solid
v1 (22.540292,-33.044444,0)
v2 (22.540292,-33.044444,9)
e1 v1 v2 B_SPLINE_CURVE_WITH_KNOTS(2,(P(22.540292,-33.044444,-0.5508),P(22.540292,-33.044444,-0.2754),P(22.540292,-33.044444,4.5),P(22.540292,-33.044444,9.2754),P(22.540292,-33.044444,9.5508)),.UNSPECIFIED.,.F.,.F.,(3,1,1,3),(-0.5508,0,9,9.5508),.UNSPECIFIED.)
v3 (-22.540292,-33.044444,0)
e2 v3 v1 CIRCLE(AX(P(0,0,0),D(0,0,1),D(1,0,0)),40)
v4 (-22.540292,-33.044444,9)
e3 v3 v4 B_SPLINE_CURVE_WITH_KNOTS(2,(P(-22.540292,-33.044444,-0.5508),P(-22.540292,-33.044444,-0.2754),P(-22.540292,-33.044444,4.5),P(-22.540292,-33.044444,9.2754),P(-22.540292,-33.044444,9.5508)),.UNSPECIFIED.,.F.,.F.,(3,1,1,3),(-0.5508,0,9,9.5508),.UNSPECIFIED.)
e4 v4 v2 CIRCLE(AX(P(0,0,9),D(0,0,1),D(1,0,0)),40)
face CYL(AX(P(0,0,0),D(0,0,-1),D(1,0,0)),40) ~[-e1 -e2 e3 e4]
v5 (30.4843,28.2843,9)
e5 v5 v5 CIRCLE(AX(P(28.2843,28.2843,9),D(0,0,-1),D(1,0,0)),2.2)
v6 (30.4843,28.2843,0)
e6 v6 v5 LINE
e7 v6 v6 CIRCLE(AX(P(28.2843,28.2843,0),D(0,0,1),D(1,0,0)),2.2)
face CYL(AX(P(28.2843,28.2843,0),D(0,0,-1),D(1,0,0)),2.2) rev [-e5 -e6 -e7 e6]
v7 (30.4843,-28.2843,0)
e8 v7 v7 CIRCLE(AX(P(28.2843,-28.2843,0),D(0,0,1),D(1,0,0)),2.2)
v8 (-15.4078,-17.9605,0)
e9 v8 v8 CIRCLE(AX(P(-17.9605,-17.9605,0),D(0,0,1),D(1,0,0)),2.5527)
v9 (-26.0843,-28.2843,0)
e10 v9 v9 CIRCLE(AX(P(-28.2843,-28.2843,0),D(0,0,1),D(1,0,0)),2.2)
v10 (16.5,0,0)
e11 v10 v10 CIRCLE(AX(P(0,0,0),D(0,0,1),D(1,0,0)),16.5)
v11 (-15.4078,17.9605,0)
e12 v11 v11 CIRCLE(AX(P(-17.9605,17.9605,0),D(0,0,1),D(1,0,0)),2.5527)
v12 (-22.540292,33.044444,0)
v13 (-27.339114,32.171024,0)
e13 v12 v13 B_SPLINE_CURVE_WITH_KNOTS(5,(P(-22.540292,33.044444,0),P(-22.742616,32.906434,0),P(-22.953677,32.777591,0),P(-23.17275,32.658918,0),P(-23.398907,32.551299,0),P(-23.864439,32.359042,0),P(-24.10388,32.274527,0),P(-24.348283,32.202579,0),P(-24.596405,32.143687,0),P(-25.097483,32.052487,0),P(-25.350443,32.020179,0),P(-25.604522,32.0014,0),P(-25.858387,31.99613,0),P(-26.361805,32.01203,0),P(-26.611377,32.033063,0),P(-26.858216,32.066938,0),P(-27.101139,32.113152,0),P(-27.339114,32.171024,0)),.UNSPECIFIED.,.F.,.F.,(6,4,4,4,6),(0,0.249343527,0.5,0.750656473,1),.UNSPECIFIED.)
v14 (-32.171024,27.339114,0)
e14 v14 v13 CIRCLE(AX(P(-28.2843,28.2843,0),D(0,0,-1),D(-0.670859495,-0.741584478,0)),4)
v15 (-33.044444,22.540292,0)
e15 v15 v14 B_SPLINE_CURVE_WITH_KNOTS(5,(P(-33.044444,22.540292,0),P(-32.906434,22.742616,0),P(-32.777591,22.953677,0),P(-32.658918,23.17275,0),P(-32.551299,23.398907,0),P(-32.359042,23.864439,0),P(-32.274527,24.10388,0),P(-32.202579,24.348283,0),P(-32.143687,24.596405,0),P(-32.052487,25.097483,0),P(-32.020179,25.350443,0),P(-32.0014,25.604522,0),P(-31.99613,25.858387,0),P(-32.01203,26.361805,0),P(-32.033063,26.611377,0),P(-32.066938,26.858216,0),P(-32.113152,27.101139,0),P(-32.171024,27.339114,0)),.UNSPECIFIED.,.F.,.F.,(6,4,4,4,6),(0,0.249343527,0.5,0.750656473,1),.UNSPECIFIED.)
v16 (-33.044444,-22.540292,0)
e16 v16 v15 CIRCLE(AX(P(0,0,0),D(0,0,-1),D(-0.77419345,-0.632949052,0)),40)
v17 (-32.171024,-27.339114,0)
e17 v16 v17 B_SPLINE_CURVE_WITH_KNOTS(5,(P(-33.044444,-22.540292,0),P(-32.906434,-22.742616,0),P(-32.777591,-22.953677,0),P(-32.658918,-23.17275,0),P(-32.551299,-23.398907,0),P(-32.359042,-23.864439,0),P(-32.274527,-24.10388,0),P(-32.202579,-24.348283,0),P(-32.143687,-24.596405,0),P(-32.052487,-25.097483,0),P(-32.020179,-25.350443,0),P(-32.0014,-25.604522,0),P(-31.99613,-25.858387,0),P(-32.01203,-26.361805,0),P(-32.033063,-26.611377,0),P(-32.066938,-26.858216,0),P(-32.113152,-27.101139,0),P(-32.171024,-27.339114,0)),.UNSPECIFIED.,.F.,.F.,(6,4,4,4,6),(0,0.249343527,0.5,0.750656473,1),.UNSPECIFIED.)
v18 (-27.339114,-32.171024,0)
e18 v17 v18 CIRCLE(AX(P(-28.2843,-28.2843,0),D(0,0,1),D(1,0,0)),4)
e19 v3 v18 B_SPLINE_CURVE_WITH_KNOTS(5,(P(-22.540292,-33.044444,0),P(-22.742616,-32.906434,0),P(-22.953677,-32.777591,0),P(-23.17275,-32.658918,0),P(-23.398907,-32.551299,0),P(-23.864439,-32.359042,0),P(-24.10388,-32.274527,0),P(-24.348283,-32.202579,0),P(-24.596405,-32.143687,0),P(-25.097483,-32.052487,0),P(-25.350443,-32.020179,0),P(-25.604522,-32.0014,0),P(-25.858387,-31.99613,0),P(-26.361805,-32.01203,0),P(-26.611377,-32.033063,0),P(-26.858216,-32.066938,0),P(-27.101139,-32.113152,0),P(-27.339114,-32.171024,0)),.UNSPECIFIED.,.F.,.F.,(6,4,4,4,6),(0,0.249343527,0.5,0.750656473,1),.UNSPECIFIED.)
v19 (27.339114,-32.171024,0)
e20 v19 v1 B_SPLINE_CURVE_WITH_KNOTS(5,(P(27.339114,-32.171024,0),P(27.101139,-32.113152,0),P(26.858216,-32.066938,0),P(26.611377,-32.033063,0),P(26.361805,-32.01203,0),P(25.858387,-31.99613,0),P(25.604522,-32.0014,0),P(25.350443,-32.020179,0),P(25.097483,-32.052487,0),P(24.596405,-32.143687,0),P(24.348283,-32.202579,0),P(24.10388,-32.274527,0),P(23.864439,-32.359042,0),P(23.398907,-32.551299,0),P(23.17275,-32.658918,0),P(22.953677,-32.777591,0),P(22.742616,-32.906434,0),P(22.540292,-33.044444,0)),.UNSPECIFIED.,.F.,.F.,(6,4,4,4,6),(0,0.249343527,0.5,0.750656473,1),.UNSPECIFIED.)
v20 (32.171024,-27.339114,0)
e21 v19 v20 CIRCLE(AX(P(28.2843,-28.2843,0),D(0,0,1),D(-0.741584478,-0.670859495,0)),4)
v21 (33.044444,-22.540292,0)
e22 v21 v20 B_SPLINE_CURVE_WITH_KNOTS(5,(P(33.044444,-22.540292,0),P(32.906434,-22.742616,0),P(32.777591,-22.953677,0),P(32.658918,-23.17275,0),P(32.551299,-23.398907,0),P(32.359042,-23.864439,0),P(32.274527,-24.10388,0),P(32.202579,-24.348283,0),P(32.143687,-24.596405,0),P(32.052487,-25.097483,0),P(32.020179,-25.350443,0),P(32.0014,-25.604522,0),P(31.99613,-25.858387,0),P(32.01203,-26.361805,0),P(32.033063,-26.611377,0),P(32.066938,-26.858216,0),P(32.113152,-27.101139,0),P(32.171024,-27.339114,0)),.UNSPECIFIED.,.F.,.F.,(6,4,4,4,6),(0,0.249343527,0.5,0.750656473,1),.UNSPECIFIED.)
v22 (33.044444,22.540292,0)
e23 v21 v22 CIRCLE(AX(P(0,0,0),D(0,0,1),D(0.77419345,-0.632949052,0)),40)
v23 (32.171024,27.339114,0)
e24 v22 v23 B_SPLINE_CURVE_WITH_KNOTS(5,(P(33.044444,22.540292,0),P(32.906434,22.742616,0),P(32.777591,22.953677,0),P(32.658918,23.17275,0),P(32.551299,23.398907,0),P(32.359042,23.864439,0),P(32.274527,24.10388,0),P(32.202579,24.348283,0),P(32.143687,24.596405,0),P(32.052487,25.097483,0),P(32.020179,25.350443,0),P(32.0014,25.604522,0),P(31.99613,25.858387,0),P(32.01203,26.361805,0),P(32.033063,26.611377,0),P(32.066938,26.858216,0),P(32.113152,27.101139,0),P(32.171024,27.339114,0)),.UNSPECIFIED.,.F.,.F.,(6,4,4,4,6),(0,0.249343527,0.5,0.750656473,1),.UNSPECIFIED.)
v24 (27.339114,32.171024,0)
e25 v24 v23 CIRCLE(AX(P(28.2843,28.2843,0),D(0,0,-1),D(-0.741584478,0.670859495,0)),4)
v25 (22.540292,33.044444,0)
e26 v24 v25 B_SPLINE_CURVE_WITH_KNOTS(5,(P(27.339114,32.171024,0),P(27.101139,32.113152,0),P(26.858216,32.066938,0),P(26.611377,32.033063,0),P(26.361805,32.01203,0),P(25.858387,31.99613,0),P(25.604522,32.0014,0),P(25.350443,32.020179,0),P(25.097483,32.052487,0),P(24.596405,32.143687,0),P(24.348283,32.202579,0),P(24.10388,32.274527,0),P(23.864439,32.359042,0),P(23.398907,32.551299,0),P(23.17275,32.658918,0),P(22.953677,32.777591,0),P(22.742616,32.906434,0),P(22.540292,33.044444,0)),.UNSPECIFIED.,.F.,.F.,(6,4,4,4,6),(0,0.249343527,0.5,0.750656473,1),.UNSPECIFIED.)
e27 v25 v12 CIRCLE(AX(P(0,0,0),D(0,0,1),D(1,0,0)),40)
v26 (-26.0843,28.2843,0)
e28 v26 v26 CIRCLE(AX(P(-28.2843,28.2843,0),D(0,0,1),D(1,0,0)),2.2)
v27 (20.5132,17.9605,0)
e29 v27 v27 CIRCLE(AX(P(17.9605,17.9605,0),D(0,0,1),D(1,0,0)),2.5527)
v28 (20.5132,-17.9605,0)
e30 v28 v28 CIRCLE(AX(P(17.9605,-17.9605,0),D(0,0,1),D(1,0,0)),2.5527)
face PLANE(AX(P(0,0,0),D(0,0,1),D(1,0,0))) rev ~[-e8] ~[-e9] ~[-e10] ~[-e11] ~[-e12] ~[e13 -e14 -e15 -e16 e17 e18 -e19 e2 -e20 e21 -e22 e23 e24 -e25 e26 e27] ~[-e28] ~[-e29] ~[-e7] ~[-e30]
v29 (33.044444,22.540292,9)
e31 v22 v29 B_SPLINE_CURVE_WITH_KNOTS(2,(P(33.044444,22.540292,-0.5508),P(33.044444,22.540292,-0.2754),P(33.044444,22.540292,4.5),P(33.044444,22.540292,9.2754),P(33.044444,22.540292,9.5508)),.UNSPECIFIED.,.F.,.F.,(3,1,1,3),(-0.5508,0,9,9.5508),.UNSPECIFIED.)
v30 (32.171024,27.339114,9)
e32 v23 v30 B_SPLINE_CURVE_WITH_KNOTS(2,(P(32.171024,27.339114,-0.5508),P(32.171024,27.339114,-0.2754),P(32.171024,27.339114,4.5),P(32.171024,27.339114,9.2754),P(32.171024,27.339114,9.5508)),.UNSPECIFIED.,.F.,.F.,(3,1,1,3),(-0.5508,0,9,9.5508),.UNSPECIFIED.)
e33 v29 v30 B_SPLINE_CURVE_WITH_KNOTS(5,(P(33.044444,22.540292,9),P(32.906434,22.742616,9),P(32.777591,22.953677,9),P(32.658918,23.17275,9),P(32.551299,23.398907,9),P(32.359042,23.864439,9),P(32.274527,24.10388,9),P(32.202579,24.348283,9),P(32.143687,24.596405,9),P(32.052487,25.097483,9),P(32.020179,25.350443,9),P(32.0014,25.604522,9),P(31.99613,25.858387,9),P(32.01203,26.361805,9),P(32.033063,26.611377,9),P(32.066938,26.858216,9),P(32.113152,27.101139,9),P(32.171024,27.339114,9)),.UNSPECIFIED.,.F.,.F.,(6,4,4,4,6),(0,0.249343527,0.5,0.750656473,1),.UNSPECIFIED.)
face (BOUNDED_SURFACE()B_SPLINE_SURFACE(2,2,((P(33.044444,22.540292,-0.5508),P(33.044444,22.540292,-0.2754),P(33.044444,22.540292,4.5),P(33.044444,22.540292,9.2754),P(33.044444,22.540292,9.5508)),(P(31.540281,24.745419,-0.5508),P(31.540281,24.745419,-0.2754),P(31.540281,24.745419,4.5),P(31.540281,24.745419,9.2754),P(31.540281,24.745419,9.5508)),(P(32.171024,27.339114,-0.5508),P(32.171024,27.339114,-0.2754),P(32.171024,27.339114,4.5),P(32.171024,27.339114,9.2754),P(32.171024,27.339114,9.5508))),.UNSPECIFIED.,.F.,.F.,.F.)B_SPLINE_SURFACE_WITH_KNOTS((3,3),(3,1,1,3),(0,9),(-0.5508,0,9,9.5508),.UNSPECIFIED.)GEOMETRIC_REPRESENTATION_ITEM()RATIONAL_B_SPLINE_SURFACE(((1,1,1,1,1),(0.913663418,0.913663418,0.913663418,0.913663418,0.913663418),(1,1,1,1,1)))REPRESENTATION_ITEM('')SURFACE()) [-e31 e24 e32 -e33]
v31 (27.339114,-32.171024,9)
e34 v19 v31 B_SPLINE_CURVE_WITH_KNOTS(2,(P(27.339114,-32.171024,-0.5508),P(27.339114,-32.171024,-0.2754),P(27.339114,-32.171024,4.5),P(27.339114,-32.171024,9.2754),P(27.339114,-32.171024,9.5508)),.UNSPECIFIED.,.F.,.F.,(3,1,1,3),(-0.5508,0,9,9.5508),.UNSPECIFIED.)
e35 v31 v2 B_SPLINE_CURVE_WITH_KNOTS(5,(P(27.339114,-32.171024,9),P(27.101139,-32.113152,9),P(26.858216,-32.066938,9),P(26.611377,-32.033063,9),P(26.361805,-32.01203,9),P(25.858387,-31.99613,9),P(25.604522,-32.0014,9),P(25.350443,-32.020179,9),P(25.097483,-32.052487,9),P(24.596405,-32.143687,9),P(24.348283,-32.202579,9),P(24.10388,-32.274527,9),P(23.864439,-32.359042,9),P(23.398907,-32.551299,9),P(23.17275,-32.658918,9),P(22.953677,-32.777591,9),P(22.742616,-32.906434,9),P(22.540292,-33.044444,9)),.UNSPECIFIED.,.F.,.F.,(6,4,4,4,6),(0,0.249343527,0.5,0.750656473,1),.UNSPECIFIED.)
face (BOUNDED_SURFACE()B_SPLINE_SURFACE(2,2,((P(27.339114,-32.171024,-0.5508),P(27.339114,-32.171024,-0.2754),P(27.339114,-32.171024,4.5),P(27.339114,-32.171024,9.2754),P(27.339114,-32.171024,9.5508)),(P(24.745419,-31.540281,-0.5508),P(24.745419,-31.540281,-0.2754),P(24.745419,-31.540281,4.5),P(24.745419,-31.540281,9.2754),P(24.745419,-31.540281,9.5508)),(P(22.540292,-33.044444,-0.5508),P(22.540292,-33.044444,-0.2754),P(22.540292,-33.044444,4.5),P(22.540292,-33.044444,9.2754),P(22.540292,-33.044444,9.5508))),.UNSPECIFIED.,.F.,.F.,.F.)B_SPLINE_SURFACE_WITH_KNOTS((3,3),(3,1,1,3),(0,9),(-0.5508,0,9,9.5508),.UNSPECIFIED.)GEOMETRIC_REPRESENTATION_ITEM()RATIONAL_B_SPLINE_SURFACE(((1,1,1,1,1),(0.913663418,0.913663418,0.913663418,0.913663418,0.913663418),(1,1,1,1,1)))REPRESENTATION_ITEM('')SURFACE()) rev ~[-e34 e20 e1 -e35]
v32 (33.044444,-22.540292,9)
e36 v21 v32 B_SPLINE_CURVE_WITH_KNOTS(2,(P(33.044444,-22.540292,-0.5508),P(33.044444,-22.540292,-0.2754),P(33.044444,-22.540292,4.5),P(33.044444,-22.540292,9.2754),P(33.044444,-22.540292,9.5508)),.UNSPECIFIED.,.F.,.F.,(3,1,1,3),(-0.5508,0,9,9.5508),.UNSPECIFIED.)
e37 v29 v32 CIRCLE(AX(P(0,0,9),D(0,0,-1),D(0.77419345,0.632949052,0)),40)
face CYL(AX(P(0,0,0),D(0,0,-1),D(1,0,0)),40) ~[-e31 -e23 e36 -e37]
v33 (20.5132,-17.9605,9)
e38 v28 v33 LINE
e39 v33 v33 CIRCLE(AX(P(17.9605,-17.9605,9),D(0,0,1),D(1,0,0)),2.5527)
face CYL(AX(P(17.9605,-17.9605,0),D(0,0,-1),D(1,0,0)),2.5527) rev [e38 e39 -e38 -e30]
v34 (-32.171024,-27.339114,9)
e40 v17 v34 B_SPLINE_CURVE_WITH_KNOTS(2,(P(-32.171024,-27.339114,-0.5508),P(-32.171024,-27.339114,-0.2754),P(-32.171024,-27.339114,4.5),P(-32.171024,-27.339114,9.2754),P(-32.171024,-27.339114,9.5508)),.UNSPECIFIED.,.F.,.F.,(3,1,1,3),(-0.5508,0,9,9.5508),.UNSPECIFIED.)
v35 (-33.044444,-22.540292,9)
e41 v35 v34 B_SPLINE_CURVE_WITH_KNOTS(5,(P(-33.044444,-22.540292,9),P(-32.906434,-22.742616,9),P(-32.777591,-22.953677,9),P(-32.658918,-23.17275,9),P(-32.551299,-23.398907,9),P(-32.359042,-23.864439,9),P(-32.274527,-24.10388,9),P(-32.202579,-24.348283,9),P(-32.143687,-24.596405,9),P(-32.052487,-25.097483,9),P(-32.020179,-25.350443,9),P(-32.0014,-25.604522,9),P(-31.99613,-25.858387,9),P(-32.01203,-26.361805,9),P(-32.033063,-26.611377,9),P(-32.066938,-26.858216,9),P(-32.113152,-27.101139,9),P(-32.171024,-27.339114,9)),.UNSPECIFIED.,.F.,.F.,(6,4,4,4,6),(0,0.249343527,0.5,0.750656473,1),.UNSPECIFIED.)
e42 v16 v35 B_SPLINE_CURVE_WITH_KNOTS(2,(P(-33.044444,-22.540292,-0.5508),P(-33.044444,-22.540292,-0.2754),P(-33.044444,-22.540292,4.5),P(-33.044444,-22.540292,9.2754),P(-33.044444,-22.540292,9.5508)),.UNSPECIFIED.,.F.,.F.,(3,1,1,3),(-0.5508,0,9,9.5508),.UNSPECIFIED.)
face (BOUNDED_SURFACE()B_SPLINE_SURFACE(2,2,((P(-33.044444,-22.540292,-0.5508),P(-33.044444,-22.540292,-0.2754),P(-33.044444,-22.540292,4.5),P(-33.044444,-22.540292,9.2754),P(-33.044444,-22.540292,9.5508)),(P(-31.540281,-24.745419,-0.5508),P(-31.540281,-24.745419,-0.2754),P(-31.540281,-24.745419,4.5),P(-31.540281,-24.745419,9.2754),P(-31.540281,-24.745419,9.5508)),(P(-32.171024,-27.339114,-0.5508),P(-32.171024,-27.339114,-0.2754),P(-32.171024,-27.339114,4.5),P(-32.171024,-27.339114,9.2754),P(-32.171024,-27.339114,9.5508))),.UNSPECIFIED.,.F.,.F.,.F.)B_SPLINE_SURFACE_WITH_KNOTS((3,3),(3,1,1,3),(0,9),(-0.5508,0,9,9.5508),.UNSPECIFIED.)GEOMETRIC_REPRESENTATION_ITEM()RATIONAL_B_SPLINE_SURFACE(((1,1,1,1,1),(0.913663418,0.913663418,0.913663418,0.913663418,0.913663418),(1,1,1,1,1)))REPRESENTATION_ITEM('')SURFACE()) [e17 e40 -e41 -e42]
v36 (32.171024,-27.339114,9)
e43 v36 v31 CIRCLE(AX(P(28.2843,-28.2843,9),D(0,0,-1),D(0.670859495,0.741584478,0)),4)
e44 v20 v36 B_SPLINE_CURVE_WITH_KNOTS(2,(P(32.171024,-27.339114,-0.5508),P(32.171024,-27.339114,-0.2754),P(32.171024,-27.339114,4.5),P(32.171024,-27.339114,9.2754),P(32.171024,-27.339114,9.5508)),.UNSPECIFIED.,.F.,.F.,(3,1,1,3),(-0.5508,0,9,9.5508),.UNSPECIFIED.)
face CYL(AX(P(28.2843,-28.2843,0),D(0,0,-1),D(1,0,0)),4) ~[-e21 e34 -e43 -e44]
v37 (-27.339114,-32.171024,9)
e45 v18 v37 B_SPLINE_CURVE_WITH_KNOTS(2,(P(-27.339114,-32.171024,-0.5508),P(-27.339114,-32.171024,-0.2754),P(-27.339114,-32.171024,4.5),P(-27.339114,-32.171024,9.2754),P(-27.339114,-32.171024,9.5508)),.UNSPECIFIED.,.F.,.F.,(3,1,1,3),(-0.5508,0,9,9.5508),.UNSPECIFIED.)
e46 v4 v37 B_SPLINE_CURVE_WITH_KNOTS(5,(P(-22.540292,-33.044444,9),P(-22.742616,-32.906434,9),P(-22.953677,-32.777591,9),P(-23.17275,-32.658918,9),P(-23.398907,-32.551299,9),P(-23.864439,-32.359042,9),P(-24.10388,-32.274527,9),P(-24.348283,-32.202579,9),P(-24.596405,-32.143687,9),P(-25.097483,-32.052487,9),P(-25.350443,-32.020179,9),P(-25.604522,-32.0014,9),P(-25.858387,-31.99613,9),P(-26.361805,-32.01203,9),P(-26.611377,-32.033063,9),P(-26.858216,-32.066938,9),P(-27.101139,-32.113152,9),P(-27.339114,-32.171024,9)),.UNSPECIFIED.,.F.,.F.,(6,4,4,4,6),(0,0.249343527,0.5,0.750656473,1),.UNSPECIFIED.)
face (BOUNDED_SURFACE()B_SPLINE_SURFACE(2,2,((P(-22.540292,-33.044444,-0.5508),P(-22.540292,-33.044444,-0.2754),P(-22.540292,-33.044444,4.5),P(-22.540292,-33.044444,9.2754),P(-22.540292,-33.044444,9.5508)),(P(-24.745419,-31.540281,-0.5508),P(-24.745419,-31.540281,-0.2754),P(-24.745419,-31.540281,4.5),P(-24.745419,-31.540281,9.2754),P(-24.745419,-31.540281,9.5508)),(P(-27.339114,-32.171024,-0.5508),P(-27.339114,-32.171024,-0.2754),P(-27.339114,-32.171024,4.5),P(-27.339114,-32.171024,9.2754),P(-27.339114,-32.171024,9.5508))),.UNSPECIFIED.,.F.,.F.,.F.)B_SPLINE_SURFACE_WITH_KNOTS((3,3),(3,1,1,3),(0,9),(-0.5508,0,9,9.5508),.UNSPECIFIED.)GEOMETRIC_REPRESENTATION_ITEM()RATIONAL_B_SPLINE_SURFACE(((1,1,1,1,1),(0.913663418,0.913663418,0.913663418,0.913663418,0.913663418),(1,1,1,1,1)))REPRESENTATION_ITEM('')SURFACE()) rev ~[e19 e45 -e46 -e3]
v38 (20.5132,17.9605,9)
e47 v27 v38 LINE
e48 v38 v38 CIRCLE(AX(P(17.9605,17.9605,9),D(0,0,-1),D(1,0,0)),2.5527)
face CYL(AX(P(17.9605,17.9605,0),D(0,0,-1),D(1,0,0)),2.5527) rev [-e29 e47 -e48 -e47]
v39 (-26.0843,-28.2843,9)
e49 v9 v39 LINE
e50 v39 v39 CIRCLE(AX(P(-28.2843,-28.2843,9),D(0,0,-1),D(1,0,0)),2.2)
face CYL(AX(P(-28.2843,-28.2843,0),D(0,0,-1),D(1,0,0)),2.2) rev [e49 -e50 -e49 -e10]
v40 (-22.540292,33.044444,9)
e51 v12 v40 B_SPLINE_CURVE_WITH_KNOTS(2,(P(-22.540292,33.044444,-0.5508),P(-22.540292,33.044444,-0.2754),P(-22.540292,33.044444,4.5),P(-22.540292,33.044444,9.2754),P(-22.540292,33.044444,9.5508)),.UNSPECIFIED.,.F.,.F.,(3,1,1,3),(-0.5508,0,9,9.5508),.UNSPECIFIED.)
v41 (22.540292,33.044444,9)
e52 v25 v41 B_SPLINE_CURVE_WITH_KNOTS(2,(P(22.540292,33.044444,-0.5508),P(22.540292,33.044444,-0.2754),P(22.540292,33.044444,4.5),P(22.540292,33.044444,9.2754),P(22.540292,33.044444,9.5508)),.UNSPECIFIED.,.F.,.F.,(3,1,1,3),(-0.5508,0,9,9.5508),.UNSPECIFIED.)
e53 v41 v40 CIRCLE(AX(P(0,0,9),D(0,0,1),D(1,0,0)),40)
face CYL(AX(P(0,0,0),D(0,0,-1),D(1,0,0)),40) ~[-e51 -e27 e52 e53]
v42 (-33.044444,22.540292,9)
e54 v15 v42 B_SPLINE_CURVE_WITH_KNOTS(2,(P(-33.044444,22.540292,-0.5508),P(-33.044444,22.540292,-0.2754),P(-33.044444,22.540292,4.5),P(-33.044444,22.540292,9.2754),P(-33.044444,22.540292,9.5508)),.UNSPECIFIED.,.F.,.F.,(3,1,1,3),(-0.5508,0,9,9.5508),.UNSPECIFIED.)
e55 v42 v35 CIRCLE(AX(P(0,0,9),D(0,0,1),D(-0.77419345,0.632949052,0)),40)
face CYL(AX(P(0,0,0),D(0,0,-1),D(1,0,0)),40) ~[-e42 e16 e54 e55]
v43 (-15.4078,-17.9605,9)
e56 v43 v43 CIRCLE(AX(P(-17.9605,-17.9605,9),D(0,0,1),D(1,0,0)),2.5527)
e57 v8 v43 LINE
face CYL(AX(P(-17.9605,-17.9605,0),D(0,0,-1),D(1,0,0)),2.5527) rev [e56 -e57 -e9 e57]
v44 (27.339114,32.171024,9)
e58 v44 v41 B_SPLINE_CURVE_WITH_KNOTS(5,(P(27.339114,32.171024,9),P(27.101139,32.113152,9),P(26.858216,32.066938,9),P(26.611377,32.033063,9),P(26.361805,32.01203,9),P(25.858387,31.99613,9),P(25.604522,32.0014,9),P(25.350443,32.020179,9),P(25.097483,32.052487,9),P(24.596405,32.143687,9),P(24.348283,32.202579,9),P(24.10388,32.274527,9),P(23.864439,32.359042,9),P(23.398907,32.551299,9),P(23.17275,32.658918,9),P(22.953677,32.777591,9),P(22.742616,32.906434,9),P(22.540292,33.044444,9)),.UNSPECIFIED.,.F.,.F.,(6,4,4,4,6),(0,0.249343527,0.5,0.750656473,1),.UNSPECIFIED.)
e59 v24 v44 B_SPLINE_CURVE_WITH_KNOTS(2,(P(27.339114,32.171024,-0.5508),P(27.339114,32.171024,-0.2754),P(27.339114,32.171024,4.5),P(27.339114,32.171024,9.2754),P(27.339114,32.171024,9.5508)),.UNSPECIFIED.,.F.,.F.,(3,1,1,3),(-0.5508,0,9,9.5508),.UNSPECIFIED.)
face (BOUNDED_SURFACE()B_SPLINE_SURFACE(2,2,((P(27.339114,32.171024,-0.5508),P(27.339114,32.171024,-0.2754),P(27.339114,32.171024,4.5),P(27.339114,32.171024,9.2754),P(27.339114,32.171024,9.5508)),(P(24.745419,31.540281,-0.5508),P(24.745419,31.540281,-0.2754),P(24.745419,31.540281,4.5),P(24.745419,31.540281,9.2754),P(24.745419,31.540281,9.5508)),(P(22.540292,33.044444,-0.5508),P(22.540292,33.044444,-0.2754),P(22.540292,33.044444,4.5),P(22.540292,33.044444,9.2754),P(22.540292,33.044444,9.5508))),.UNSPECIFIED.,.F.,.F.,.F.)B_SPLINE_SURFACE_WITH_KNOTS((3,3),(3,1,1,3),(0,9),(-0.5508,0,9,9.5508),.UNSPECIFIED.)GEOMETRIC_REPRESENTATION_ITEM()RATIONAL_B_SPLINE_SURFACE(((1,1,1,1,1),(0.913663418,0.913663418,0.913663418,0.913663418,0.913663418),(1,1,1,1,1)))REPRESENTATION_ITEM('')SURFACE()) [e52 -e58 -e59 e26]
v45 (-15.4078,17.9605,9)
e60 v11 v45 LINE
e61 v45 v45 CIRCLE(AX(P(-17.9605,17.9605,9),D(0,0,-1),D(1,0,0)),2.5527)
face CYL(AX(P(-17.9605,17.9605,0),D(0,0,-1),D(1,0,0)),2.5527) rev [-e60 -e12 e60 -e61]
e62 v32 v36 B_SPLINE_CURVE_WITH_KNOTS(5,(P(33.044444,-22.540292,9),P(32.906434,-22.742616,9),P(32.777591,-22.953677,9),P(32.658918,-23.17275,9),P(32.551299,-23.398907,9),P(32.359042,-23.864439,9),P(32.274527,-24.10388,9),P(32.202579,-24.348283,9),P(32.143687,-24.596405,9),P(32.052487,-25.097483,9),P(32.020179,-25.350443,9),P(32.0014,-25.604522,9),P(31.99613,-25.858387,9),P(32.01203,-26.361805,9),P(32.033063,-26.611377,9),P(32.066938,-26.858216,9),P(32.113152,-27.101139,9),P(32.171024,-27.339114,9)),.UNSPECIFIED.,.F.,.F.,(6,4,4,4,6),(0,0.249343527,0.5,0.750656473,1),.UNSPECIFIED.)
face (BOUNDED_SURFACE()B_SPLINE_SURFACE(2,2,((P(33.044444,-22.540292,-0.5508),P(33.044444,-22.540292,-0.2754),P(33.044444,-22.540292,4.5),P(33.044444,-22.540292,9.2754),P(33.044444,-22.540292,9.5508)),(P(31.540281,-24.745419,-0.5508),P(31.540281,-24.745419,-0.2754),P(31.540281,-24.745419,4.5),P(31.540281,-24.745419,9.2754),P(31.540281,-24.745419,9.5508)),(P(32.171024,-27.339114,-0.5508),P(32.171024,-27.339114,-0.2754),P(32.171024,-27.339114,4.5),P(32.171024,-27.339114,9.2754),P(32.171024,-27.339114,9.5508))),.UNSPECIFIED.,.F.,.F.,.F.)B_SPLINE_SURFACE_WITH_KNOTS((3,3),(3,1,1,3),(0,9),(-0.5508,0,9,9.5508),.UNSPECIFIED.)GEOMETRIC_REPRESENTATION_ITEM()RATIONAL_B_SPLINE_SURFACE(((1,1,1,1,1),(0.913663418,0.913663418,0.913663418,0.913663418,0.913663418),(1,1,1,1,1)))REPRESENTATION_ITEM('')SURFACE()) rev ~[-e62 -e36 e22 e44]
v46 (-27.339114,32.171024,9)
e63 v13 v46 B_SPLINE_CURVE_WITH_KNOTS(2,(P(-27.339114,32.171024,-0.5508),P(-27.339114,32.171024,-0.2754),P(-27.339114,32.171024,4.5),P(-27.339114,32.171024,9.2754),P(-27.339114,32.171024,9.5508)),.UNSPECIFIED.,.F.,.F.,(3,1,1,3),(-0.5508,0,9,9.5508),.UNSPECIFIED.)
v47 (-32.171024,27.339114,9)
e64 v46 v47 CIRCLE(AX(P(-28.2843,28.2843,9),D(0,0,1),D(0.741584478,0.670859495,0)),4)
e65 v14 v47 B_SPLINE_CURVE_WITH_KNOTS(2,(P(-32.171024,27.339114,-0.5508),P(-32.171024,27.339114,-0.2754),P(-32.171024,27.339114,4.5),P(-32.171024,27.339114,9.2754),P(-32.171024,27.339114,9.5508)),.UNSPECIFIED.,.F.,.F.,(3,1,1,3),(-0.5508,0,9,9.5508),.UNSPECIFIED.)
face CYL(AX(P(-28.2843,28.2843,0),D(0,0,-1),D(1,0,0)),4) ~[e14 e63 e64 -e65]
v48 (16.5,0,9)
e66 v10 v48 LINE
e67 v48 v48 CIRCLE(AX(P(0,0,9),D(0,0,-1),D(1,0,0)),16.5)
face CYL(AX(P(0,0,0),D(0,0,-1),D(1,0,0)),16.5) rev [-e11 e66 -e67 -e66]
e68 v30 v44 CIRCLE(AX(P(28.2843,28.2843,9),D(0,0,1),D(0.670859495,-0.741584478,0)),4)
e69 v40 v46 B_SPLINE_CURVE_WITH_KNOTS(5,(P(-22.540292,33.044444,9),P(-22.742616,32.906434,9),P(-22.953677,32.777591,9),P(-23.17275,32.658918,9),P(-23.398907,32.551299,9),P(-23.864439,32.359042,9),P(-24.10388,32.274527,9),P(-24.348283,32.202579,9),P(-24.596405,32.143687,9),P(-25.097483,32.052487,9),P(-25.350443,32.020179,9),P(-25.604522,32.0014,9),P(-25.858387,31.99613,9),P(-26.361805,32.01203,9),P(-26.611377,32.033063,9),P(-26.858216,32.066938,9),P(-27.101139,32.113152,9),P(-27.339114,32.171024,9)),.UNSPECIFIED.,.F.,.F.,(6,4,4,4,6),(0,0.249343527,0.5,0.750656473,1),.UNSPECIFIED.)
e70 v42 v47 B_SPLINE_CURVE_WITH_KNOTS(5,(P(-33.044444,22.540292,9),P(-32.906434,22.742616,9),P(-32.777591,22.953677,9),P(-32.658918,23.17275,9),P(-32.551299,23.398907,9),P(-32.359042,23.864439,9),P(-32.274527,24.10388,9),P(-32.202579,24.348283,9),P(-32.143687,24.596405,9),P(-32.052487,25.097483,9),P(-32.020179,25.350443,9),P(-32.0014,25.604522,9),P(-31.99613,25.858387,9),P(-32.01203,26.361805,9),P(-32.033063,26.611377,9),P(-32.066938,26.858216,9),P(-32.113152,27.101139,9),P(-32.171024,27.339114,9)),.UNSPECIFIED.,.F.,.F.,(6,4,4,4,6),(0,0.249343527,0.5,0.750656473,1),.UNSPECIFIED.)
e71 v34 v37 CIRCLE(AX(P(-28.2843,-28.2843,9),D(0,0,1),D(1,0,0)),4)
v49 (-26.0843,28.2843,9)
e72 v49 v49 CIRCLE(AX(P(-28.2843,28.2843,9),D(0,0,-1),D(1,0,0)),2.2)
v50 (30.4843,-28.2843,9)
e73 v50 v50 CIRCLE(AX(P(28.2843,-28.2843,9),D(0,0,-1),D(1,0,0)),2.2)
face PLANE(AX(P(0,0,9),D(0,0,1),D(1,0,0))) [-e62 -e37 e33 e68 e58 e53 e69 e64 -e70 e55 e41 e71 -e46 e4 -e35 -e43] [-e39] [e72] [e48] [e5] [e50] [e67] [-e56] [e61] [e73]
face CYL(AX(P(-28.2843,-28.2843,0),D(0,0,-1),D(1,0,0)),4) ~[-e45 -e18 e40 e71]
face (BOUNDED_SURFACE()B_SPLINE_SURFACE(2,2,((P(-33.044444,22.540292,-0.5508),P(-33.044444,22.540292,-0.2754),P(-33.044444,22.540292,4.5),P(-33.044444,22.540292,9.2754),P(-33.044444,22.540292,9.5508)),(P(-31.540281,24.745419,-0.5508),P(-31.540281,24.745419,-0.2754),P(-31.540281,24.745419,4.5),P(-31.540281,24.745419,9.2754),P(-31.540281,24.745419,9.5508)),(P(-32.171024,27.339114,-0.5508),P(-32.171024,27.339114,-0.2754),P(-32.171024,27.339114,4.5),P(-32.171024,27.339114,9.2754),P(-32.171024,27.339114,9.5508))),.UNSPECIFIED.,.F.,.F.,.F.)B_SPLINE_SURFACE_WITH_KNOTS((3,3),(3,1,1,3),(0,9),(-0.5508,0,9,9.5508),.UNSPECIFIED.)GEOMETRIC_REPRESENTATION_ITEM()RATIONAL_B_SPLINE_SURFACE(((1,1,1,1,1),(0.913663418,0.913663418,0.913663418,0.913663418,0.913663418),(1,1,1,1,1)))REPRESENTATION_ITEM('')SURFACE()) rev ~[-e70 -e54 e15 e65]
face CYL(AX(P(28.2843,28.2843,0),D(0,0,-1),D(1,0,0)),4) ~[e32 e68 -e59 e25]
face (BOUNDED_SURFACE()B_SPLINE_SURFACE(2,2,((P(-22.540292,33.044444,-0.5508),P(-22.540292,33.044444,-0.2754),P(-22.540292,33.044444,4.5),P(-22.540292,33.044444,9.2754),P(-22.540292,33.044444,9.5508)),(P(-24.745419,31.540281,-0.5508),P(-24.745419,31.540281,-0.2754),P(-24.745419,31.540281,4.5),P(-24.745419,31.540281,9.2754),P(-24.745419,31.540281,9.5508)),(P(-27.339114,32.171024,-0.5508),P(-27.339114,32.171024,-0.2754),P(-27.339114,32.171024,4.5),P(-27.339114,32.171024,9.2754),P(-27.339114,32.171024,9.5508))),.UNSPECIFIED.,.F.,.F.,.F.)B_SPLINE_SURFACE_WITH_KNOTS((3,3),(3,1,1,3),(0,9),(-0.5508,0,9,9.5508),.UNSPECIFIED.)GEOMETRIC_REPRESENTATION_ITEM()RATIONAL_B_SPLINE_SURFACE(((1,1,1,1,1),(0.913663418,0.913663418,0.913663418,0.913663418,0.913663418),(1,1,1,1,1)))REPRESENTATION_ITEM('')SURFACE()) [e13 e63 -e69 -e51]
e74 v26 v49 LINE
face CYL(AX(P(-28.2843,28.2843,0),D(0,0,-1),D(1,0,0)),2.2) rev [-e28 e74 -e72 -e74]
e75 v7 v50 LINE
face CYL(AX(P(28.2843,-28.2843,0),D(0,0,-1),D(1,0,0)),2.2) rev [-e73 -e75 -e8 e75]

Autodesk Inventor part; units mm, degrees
ref_plane "YZ Plane" through (0, 0, 0) normal (1, 0, 0) x (0, 1, 0)
ref_plane "XZ Plane" through (0, 0, 0) normal (0, 1, 0) x (-1, 0, 0)
ref_plane "XY Plane" through (0, 0, 0) normal (0, 0, 1) x (1, 0, 0)
sketch "Base" plane through (0, 0, 0) normal (0, 0, 1) x (1, 0, 0)
  circle A0 centre (0, 0) radius 50.8
  circle A1 centre (0, 0) radius 16.5
  line L0 (-71.12, 0) -> (71.12, 0)
  line L1 (0, -71.12) -> (0, 71.12) construction
  circle A2 centre (-17.9605, 17.9605) radius 2.5527
  circle A3 centre (17.9605, 17.9605) radius 2.5527
  circle A4 centre (17.9605, -17.9605) radius 2.5527
  circle A5 centre (-17.9605, -17.9605) radius 2.5527
  circle A6 centre (0, 0) radius 16 construction
  circle A7 centre (0, 0) radius 40
  line L2 (0, 0) -> (28.2843, 28.2843) construction
  circle A8 centre (28.2843, 28.2843) radius 2.2
  circle A9 centre (-28.2843, 28.2843) radius 2.2
  circle A10 centre (28.2843, -28.2843) radius 2.2
  circle A11 centre (-28.2843, -28.2843) radius 2.2
  circle A12 centre (28.2843, 28.2843) radius 4
  circle A13 centre (17.9605, 17.9605) radius 4
  circle A14 centre (-17.9605, 17.9605) radius 4
  circle A15 centre (-28.2843, 28.2843) radius 4
  line L3 (0, 0) -> (35.921, 35.921)
  line L4 (0, 0) -> (-35.921, 35.921)
  circle A16 centre (28.2843, -28.2843) radius 4
  circle A17 centre (-28.2843, -28.2843) radius 4
  circle A18 centre (17.9605, -17.9605) radius 4
  circle A19 centre (-17.9605, -17.9605) radius 4
  point P0 (-25.4558, 25.4558)
  point P1 (-20.7889, 20.7889)
  point P2 (-15.1321, 15.1321)
  point P3 (-11.6673, 11.6673)
  point P4 (11.6673, 11.6673)
  point P5 (15.1321, 15.1321)
  point P6 (20.7889, 20.7889)
  point P7 (25.4558, 25.4558)
  point P8 (31.1127, 31.1127)
  point P9 (-31.1127, 31.1127)
  point P10 (25.318, 30.9677)
  point P11 (-25.318, 30.9677)
  point P12 (-30.9677, 25.318)
  point P13 (-40, 0)
  point P14 (-16.5, 0)
  point P15 (16.5, 0)
  point P16 (40, 0)
  point P17 (30.9677, 25.318)
  point P18 (30.9677, -25.318)
  point P19 (-30.9677, -25.318)
  point P20 (-25.318, -30.9677)
  point P21 (25.318, -30.9677)
  dimension "d26" = 80
  dimension "d0" = 101.6
  dimension "d25" = 0.5
  dimension "d27" = 4.4
  dimension "d29" = 8
extrude "Plate1" add sketch "Base" along normal blind 9 contours A7 A16 A17 L0 A1 | L0 A1 L3 A13 A12 A7 | L3 A8 A7 A12 | A12 A7 A8 L3 | A7 A15 L4 A14 A1 L0 | A12 L3 A8 A7 | A16 A7 A10 | A7 A10 A16 | L4 A9 A7 A15 | A15 A7 A9 L4 | A12 L3 A13 A1 L4 A14 A15 A7 | A7 A8 L3 A12 | A7 A9 L4 A15 | A17 A7 A11 | A7 A11 A17 | A15 L4 A9 A7 | L3 A3 A13 | A13 L3 A3 | L4 A2 A14 | A14 L4 A2 | A18 | A19
fillet "Fillet2" radius 6 8 edges at (-30.9677, 25.318, 4.5) (-30.9677, -25.318, 4.5) (-25.318, -30.9677, 4.5) (25.318, -30.9677, 4.5) (30.9677, -25.318, 4.5) (30.9677, 25.318, 4.5) (25.318, 30.9677, 4.5) (-25.318, 30.9677, 4.5)
equation "\"d28\" = Thickness"
equation "\"BendRadius\" = Thickness"
equation "\"BendReliefWidth\" = Thickness"
equation "\"BendReliefDepth\" = 0.5 * Thickness"
equation "\"CornerReliefSize\" = 4 * Thickness"
equation "\"MinimumRemnant\" = 2 * Thickness"
equation "\"TransitionRadius\" = BendRadius"
equation "\"JacobiRadiusSize\" = BendRadius"
equation "\"GapSize\" = Thickness"
equation "\"Thickness\" = 9"
properties part number "CimCoderMount"
